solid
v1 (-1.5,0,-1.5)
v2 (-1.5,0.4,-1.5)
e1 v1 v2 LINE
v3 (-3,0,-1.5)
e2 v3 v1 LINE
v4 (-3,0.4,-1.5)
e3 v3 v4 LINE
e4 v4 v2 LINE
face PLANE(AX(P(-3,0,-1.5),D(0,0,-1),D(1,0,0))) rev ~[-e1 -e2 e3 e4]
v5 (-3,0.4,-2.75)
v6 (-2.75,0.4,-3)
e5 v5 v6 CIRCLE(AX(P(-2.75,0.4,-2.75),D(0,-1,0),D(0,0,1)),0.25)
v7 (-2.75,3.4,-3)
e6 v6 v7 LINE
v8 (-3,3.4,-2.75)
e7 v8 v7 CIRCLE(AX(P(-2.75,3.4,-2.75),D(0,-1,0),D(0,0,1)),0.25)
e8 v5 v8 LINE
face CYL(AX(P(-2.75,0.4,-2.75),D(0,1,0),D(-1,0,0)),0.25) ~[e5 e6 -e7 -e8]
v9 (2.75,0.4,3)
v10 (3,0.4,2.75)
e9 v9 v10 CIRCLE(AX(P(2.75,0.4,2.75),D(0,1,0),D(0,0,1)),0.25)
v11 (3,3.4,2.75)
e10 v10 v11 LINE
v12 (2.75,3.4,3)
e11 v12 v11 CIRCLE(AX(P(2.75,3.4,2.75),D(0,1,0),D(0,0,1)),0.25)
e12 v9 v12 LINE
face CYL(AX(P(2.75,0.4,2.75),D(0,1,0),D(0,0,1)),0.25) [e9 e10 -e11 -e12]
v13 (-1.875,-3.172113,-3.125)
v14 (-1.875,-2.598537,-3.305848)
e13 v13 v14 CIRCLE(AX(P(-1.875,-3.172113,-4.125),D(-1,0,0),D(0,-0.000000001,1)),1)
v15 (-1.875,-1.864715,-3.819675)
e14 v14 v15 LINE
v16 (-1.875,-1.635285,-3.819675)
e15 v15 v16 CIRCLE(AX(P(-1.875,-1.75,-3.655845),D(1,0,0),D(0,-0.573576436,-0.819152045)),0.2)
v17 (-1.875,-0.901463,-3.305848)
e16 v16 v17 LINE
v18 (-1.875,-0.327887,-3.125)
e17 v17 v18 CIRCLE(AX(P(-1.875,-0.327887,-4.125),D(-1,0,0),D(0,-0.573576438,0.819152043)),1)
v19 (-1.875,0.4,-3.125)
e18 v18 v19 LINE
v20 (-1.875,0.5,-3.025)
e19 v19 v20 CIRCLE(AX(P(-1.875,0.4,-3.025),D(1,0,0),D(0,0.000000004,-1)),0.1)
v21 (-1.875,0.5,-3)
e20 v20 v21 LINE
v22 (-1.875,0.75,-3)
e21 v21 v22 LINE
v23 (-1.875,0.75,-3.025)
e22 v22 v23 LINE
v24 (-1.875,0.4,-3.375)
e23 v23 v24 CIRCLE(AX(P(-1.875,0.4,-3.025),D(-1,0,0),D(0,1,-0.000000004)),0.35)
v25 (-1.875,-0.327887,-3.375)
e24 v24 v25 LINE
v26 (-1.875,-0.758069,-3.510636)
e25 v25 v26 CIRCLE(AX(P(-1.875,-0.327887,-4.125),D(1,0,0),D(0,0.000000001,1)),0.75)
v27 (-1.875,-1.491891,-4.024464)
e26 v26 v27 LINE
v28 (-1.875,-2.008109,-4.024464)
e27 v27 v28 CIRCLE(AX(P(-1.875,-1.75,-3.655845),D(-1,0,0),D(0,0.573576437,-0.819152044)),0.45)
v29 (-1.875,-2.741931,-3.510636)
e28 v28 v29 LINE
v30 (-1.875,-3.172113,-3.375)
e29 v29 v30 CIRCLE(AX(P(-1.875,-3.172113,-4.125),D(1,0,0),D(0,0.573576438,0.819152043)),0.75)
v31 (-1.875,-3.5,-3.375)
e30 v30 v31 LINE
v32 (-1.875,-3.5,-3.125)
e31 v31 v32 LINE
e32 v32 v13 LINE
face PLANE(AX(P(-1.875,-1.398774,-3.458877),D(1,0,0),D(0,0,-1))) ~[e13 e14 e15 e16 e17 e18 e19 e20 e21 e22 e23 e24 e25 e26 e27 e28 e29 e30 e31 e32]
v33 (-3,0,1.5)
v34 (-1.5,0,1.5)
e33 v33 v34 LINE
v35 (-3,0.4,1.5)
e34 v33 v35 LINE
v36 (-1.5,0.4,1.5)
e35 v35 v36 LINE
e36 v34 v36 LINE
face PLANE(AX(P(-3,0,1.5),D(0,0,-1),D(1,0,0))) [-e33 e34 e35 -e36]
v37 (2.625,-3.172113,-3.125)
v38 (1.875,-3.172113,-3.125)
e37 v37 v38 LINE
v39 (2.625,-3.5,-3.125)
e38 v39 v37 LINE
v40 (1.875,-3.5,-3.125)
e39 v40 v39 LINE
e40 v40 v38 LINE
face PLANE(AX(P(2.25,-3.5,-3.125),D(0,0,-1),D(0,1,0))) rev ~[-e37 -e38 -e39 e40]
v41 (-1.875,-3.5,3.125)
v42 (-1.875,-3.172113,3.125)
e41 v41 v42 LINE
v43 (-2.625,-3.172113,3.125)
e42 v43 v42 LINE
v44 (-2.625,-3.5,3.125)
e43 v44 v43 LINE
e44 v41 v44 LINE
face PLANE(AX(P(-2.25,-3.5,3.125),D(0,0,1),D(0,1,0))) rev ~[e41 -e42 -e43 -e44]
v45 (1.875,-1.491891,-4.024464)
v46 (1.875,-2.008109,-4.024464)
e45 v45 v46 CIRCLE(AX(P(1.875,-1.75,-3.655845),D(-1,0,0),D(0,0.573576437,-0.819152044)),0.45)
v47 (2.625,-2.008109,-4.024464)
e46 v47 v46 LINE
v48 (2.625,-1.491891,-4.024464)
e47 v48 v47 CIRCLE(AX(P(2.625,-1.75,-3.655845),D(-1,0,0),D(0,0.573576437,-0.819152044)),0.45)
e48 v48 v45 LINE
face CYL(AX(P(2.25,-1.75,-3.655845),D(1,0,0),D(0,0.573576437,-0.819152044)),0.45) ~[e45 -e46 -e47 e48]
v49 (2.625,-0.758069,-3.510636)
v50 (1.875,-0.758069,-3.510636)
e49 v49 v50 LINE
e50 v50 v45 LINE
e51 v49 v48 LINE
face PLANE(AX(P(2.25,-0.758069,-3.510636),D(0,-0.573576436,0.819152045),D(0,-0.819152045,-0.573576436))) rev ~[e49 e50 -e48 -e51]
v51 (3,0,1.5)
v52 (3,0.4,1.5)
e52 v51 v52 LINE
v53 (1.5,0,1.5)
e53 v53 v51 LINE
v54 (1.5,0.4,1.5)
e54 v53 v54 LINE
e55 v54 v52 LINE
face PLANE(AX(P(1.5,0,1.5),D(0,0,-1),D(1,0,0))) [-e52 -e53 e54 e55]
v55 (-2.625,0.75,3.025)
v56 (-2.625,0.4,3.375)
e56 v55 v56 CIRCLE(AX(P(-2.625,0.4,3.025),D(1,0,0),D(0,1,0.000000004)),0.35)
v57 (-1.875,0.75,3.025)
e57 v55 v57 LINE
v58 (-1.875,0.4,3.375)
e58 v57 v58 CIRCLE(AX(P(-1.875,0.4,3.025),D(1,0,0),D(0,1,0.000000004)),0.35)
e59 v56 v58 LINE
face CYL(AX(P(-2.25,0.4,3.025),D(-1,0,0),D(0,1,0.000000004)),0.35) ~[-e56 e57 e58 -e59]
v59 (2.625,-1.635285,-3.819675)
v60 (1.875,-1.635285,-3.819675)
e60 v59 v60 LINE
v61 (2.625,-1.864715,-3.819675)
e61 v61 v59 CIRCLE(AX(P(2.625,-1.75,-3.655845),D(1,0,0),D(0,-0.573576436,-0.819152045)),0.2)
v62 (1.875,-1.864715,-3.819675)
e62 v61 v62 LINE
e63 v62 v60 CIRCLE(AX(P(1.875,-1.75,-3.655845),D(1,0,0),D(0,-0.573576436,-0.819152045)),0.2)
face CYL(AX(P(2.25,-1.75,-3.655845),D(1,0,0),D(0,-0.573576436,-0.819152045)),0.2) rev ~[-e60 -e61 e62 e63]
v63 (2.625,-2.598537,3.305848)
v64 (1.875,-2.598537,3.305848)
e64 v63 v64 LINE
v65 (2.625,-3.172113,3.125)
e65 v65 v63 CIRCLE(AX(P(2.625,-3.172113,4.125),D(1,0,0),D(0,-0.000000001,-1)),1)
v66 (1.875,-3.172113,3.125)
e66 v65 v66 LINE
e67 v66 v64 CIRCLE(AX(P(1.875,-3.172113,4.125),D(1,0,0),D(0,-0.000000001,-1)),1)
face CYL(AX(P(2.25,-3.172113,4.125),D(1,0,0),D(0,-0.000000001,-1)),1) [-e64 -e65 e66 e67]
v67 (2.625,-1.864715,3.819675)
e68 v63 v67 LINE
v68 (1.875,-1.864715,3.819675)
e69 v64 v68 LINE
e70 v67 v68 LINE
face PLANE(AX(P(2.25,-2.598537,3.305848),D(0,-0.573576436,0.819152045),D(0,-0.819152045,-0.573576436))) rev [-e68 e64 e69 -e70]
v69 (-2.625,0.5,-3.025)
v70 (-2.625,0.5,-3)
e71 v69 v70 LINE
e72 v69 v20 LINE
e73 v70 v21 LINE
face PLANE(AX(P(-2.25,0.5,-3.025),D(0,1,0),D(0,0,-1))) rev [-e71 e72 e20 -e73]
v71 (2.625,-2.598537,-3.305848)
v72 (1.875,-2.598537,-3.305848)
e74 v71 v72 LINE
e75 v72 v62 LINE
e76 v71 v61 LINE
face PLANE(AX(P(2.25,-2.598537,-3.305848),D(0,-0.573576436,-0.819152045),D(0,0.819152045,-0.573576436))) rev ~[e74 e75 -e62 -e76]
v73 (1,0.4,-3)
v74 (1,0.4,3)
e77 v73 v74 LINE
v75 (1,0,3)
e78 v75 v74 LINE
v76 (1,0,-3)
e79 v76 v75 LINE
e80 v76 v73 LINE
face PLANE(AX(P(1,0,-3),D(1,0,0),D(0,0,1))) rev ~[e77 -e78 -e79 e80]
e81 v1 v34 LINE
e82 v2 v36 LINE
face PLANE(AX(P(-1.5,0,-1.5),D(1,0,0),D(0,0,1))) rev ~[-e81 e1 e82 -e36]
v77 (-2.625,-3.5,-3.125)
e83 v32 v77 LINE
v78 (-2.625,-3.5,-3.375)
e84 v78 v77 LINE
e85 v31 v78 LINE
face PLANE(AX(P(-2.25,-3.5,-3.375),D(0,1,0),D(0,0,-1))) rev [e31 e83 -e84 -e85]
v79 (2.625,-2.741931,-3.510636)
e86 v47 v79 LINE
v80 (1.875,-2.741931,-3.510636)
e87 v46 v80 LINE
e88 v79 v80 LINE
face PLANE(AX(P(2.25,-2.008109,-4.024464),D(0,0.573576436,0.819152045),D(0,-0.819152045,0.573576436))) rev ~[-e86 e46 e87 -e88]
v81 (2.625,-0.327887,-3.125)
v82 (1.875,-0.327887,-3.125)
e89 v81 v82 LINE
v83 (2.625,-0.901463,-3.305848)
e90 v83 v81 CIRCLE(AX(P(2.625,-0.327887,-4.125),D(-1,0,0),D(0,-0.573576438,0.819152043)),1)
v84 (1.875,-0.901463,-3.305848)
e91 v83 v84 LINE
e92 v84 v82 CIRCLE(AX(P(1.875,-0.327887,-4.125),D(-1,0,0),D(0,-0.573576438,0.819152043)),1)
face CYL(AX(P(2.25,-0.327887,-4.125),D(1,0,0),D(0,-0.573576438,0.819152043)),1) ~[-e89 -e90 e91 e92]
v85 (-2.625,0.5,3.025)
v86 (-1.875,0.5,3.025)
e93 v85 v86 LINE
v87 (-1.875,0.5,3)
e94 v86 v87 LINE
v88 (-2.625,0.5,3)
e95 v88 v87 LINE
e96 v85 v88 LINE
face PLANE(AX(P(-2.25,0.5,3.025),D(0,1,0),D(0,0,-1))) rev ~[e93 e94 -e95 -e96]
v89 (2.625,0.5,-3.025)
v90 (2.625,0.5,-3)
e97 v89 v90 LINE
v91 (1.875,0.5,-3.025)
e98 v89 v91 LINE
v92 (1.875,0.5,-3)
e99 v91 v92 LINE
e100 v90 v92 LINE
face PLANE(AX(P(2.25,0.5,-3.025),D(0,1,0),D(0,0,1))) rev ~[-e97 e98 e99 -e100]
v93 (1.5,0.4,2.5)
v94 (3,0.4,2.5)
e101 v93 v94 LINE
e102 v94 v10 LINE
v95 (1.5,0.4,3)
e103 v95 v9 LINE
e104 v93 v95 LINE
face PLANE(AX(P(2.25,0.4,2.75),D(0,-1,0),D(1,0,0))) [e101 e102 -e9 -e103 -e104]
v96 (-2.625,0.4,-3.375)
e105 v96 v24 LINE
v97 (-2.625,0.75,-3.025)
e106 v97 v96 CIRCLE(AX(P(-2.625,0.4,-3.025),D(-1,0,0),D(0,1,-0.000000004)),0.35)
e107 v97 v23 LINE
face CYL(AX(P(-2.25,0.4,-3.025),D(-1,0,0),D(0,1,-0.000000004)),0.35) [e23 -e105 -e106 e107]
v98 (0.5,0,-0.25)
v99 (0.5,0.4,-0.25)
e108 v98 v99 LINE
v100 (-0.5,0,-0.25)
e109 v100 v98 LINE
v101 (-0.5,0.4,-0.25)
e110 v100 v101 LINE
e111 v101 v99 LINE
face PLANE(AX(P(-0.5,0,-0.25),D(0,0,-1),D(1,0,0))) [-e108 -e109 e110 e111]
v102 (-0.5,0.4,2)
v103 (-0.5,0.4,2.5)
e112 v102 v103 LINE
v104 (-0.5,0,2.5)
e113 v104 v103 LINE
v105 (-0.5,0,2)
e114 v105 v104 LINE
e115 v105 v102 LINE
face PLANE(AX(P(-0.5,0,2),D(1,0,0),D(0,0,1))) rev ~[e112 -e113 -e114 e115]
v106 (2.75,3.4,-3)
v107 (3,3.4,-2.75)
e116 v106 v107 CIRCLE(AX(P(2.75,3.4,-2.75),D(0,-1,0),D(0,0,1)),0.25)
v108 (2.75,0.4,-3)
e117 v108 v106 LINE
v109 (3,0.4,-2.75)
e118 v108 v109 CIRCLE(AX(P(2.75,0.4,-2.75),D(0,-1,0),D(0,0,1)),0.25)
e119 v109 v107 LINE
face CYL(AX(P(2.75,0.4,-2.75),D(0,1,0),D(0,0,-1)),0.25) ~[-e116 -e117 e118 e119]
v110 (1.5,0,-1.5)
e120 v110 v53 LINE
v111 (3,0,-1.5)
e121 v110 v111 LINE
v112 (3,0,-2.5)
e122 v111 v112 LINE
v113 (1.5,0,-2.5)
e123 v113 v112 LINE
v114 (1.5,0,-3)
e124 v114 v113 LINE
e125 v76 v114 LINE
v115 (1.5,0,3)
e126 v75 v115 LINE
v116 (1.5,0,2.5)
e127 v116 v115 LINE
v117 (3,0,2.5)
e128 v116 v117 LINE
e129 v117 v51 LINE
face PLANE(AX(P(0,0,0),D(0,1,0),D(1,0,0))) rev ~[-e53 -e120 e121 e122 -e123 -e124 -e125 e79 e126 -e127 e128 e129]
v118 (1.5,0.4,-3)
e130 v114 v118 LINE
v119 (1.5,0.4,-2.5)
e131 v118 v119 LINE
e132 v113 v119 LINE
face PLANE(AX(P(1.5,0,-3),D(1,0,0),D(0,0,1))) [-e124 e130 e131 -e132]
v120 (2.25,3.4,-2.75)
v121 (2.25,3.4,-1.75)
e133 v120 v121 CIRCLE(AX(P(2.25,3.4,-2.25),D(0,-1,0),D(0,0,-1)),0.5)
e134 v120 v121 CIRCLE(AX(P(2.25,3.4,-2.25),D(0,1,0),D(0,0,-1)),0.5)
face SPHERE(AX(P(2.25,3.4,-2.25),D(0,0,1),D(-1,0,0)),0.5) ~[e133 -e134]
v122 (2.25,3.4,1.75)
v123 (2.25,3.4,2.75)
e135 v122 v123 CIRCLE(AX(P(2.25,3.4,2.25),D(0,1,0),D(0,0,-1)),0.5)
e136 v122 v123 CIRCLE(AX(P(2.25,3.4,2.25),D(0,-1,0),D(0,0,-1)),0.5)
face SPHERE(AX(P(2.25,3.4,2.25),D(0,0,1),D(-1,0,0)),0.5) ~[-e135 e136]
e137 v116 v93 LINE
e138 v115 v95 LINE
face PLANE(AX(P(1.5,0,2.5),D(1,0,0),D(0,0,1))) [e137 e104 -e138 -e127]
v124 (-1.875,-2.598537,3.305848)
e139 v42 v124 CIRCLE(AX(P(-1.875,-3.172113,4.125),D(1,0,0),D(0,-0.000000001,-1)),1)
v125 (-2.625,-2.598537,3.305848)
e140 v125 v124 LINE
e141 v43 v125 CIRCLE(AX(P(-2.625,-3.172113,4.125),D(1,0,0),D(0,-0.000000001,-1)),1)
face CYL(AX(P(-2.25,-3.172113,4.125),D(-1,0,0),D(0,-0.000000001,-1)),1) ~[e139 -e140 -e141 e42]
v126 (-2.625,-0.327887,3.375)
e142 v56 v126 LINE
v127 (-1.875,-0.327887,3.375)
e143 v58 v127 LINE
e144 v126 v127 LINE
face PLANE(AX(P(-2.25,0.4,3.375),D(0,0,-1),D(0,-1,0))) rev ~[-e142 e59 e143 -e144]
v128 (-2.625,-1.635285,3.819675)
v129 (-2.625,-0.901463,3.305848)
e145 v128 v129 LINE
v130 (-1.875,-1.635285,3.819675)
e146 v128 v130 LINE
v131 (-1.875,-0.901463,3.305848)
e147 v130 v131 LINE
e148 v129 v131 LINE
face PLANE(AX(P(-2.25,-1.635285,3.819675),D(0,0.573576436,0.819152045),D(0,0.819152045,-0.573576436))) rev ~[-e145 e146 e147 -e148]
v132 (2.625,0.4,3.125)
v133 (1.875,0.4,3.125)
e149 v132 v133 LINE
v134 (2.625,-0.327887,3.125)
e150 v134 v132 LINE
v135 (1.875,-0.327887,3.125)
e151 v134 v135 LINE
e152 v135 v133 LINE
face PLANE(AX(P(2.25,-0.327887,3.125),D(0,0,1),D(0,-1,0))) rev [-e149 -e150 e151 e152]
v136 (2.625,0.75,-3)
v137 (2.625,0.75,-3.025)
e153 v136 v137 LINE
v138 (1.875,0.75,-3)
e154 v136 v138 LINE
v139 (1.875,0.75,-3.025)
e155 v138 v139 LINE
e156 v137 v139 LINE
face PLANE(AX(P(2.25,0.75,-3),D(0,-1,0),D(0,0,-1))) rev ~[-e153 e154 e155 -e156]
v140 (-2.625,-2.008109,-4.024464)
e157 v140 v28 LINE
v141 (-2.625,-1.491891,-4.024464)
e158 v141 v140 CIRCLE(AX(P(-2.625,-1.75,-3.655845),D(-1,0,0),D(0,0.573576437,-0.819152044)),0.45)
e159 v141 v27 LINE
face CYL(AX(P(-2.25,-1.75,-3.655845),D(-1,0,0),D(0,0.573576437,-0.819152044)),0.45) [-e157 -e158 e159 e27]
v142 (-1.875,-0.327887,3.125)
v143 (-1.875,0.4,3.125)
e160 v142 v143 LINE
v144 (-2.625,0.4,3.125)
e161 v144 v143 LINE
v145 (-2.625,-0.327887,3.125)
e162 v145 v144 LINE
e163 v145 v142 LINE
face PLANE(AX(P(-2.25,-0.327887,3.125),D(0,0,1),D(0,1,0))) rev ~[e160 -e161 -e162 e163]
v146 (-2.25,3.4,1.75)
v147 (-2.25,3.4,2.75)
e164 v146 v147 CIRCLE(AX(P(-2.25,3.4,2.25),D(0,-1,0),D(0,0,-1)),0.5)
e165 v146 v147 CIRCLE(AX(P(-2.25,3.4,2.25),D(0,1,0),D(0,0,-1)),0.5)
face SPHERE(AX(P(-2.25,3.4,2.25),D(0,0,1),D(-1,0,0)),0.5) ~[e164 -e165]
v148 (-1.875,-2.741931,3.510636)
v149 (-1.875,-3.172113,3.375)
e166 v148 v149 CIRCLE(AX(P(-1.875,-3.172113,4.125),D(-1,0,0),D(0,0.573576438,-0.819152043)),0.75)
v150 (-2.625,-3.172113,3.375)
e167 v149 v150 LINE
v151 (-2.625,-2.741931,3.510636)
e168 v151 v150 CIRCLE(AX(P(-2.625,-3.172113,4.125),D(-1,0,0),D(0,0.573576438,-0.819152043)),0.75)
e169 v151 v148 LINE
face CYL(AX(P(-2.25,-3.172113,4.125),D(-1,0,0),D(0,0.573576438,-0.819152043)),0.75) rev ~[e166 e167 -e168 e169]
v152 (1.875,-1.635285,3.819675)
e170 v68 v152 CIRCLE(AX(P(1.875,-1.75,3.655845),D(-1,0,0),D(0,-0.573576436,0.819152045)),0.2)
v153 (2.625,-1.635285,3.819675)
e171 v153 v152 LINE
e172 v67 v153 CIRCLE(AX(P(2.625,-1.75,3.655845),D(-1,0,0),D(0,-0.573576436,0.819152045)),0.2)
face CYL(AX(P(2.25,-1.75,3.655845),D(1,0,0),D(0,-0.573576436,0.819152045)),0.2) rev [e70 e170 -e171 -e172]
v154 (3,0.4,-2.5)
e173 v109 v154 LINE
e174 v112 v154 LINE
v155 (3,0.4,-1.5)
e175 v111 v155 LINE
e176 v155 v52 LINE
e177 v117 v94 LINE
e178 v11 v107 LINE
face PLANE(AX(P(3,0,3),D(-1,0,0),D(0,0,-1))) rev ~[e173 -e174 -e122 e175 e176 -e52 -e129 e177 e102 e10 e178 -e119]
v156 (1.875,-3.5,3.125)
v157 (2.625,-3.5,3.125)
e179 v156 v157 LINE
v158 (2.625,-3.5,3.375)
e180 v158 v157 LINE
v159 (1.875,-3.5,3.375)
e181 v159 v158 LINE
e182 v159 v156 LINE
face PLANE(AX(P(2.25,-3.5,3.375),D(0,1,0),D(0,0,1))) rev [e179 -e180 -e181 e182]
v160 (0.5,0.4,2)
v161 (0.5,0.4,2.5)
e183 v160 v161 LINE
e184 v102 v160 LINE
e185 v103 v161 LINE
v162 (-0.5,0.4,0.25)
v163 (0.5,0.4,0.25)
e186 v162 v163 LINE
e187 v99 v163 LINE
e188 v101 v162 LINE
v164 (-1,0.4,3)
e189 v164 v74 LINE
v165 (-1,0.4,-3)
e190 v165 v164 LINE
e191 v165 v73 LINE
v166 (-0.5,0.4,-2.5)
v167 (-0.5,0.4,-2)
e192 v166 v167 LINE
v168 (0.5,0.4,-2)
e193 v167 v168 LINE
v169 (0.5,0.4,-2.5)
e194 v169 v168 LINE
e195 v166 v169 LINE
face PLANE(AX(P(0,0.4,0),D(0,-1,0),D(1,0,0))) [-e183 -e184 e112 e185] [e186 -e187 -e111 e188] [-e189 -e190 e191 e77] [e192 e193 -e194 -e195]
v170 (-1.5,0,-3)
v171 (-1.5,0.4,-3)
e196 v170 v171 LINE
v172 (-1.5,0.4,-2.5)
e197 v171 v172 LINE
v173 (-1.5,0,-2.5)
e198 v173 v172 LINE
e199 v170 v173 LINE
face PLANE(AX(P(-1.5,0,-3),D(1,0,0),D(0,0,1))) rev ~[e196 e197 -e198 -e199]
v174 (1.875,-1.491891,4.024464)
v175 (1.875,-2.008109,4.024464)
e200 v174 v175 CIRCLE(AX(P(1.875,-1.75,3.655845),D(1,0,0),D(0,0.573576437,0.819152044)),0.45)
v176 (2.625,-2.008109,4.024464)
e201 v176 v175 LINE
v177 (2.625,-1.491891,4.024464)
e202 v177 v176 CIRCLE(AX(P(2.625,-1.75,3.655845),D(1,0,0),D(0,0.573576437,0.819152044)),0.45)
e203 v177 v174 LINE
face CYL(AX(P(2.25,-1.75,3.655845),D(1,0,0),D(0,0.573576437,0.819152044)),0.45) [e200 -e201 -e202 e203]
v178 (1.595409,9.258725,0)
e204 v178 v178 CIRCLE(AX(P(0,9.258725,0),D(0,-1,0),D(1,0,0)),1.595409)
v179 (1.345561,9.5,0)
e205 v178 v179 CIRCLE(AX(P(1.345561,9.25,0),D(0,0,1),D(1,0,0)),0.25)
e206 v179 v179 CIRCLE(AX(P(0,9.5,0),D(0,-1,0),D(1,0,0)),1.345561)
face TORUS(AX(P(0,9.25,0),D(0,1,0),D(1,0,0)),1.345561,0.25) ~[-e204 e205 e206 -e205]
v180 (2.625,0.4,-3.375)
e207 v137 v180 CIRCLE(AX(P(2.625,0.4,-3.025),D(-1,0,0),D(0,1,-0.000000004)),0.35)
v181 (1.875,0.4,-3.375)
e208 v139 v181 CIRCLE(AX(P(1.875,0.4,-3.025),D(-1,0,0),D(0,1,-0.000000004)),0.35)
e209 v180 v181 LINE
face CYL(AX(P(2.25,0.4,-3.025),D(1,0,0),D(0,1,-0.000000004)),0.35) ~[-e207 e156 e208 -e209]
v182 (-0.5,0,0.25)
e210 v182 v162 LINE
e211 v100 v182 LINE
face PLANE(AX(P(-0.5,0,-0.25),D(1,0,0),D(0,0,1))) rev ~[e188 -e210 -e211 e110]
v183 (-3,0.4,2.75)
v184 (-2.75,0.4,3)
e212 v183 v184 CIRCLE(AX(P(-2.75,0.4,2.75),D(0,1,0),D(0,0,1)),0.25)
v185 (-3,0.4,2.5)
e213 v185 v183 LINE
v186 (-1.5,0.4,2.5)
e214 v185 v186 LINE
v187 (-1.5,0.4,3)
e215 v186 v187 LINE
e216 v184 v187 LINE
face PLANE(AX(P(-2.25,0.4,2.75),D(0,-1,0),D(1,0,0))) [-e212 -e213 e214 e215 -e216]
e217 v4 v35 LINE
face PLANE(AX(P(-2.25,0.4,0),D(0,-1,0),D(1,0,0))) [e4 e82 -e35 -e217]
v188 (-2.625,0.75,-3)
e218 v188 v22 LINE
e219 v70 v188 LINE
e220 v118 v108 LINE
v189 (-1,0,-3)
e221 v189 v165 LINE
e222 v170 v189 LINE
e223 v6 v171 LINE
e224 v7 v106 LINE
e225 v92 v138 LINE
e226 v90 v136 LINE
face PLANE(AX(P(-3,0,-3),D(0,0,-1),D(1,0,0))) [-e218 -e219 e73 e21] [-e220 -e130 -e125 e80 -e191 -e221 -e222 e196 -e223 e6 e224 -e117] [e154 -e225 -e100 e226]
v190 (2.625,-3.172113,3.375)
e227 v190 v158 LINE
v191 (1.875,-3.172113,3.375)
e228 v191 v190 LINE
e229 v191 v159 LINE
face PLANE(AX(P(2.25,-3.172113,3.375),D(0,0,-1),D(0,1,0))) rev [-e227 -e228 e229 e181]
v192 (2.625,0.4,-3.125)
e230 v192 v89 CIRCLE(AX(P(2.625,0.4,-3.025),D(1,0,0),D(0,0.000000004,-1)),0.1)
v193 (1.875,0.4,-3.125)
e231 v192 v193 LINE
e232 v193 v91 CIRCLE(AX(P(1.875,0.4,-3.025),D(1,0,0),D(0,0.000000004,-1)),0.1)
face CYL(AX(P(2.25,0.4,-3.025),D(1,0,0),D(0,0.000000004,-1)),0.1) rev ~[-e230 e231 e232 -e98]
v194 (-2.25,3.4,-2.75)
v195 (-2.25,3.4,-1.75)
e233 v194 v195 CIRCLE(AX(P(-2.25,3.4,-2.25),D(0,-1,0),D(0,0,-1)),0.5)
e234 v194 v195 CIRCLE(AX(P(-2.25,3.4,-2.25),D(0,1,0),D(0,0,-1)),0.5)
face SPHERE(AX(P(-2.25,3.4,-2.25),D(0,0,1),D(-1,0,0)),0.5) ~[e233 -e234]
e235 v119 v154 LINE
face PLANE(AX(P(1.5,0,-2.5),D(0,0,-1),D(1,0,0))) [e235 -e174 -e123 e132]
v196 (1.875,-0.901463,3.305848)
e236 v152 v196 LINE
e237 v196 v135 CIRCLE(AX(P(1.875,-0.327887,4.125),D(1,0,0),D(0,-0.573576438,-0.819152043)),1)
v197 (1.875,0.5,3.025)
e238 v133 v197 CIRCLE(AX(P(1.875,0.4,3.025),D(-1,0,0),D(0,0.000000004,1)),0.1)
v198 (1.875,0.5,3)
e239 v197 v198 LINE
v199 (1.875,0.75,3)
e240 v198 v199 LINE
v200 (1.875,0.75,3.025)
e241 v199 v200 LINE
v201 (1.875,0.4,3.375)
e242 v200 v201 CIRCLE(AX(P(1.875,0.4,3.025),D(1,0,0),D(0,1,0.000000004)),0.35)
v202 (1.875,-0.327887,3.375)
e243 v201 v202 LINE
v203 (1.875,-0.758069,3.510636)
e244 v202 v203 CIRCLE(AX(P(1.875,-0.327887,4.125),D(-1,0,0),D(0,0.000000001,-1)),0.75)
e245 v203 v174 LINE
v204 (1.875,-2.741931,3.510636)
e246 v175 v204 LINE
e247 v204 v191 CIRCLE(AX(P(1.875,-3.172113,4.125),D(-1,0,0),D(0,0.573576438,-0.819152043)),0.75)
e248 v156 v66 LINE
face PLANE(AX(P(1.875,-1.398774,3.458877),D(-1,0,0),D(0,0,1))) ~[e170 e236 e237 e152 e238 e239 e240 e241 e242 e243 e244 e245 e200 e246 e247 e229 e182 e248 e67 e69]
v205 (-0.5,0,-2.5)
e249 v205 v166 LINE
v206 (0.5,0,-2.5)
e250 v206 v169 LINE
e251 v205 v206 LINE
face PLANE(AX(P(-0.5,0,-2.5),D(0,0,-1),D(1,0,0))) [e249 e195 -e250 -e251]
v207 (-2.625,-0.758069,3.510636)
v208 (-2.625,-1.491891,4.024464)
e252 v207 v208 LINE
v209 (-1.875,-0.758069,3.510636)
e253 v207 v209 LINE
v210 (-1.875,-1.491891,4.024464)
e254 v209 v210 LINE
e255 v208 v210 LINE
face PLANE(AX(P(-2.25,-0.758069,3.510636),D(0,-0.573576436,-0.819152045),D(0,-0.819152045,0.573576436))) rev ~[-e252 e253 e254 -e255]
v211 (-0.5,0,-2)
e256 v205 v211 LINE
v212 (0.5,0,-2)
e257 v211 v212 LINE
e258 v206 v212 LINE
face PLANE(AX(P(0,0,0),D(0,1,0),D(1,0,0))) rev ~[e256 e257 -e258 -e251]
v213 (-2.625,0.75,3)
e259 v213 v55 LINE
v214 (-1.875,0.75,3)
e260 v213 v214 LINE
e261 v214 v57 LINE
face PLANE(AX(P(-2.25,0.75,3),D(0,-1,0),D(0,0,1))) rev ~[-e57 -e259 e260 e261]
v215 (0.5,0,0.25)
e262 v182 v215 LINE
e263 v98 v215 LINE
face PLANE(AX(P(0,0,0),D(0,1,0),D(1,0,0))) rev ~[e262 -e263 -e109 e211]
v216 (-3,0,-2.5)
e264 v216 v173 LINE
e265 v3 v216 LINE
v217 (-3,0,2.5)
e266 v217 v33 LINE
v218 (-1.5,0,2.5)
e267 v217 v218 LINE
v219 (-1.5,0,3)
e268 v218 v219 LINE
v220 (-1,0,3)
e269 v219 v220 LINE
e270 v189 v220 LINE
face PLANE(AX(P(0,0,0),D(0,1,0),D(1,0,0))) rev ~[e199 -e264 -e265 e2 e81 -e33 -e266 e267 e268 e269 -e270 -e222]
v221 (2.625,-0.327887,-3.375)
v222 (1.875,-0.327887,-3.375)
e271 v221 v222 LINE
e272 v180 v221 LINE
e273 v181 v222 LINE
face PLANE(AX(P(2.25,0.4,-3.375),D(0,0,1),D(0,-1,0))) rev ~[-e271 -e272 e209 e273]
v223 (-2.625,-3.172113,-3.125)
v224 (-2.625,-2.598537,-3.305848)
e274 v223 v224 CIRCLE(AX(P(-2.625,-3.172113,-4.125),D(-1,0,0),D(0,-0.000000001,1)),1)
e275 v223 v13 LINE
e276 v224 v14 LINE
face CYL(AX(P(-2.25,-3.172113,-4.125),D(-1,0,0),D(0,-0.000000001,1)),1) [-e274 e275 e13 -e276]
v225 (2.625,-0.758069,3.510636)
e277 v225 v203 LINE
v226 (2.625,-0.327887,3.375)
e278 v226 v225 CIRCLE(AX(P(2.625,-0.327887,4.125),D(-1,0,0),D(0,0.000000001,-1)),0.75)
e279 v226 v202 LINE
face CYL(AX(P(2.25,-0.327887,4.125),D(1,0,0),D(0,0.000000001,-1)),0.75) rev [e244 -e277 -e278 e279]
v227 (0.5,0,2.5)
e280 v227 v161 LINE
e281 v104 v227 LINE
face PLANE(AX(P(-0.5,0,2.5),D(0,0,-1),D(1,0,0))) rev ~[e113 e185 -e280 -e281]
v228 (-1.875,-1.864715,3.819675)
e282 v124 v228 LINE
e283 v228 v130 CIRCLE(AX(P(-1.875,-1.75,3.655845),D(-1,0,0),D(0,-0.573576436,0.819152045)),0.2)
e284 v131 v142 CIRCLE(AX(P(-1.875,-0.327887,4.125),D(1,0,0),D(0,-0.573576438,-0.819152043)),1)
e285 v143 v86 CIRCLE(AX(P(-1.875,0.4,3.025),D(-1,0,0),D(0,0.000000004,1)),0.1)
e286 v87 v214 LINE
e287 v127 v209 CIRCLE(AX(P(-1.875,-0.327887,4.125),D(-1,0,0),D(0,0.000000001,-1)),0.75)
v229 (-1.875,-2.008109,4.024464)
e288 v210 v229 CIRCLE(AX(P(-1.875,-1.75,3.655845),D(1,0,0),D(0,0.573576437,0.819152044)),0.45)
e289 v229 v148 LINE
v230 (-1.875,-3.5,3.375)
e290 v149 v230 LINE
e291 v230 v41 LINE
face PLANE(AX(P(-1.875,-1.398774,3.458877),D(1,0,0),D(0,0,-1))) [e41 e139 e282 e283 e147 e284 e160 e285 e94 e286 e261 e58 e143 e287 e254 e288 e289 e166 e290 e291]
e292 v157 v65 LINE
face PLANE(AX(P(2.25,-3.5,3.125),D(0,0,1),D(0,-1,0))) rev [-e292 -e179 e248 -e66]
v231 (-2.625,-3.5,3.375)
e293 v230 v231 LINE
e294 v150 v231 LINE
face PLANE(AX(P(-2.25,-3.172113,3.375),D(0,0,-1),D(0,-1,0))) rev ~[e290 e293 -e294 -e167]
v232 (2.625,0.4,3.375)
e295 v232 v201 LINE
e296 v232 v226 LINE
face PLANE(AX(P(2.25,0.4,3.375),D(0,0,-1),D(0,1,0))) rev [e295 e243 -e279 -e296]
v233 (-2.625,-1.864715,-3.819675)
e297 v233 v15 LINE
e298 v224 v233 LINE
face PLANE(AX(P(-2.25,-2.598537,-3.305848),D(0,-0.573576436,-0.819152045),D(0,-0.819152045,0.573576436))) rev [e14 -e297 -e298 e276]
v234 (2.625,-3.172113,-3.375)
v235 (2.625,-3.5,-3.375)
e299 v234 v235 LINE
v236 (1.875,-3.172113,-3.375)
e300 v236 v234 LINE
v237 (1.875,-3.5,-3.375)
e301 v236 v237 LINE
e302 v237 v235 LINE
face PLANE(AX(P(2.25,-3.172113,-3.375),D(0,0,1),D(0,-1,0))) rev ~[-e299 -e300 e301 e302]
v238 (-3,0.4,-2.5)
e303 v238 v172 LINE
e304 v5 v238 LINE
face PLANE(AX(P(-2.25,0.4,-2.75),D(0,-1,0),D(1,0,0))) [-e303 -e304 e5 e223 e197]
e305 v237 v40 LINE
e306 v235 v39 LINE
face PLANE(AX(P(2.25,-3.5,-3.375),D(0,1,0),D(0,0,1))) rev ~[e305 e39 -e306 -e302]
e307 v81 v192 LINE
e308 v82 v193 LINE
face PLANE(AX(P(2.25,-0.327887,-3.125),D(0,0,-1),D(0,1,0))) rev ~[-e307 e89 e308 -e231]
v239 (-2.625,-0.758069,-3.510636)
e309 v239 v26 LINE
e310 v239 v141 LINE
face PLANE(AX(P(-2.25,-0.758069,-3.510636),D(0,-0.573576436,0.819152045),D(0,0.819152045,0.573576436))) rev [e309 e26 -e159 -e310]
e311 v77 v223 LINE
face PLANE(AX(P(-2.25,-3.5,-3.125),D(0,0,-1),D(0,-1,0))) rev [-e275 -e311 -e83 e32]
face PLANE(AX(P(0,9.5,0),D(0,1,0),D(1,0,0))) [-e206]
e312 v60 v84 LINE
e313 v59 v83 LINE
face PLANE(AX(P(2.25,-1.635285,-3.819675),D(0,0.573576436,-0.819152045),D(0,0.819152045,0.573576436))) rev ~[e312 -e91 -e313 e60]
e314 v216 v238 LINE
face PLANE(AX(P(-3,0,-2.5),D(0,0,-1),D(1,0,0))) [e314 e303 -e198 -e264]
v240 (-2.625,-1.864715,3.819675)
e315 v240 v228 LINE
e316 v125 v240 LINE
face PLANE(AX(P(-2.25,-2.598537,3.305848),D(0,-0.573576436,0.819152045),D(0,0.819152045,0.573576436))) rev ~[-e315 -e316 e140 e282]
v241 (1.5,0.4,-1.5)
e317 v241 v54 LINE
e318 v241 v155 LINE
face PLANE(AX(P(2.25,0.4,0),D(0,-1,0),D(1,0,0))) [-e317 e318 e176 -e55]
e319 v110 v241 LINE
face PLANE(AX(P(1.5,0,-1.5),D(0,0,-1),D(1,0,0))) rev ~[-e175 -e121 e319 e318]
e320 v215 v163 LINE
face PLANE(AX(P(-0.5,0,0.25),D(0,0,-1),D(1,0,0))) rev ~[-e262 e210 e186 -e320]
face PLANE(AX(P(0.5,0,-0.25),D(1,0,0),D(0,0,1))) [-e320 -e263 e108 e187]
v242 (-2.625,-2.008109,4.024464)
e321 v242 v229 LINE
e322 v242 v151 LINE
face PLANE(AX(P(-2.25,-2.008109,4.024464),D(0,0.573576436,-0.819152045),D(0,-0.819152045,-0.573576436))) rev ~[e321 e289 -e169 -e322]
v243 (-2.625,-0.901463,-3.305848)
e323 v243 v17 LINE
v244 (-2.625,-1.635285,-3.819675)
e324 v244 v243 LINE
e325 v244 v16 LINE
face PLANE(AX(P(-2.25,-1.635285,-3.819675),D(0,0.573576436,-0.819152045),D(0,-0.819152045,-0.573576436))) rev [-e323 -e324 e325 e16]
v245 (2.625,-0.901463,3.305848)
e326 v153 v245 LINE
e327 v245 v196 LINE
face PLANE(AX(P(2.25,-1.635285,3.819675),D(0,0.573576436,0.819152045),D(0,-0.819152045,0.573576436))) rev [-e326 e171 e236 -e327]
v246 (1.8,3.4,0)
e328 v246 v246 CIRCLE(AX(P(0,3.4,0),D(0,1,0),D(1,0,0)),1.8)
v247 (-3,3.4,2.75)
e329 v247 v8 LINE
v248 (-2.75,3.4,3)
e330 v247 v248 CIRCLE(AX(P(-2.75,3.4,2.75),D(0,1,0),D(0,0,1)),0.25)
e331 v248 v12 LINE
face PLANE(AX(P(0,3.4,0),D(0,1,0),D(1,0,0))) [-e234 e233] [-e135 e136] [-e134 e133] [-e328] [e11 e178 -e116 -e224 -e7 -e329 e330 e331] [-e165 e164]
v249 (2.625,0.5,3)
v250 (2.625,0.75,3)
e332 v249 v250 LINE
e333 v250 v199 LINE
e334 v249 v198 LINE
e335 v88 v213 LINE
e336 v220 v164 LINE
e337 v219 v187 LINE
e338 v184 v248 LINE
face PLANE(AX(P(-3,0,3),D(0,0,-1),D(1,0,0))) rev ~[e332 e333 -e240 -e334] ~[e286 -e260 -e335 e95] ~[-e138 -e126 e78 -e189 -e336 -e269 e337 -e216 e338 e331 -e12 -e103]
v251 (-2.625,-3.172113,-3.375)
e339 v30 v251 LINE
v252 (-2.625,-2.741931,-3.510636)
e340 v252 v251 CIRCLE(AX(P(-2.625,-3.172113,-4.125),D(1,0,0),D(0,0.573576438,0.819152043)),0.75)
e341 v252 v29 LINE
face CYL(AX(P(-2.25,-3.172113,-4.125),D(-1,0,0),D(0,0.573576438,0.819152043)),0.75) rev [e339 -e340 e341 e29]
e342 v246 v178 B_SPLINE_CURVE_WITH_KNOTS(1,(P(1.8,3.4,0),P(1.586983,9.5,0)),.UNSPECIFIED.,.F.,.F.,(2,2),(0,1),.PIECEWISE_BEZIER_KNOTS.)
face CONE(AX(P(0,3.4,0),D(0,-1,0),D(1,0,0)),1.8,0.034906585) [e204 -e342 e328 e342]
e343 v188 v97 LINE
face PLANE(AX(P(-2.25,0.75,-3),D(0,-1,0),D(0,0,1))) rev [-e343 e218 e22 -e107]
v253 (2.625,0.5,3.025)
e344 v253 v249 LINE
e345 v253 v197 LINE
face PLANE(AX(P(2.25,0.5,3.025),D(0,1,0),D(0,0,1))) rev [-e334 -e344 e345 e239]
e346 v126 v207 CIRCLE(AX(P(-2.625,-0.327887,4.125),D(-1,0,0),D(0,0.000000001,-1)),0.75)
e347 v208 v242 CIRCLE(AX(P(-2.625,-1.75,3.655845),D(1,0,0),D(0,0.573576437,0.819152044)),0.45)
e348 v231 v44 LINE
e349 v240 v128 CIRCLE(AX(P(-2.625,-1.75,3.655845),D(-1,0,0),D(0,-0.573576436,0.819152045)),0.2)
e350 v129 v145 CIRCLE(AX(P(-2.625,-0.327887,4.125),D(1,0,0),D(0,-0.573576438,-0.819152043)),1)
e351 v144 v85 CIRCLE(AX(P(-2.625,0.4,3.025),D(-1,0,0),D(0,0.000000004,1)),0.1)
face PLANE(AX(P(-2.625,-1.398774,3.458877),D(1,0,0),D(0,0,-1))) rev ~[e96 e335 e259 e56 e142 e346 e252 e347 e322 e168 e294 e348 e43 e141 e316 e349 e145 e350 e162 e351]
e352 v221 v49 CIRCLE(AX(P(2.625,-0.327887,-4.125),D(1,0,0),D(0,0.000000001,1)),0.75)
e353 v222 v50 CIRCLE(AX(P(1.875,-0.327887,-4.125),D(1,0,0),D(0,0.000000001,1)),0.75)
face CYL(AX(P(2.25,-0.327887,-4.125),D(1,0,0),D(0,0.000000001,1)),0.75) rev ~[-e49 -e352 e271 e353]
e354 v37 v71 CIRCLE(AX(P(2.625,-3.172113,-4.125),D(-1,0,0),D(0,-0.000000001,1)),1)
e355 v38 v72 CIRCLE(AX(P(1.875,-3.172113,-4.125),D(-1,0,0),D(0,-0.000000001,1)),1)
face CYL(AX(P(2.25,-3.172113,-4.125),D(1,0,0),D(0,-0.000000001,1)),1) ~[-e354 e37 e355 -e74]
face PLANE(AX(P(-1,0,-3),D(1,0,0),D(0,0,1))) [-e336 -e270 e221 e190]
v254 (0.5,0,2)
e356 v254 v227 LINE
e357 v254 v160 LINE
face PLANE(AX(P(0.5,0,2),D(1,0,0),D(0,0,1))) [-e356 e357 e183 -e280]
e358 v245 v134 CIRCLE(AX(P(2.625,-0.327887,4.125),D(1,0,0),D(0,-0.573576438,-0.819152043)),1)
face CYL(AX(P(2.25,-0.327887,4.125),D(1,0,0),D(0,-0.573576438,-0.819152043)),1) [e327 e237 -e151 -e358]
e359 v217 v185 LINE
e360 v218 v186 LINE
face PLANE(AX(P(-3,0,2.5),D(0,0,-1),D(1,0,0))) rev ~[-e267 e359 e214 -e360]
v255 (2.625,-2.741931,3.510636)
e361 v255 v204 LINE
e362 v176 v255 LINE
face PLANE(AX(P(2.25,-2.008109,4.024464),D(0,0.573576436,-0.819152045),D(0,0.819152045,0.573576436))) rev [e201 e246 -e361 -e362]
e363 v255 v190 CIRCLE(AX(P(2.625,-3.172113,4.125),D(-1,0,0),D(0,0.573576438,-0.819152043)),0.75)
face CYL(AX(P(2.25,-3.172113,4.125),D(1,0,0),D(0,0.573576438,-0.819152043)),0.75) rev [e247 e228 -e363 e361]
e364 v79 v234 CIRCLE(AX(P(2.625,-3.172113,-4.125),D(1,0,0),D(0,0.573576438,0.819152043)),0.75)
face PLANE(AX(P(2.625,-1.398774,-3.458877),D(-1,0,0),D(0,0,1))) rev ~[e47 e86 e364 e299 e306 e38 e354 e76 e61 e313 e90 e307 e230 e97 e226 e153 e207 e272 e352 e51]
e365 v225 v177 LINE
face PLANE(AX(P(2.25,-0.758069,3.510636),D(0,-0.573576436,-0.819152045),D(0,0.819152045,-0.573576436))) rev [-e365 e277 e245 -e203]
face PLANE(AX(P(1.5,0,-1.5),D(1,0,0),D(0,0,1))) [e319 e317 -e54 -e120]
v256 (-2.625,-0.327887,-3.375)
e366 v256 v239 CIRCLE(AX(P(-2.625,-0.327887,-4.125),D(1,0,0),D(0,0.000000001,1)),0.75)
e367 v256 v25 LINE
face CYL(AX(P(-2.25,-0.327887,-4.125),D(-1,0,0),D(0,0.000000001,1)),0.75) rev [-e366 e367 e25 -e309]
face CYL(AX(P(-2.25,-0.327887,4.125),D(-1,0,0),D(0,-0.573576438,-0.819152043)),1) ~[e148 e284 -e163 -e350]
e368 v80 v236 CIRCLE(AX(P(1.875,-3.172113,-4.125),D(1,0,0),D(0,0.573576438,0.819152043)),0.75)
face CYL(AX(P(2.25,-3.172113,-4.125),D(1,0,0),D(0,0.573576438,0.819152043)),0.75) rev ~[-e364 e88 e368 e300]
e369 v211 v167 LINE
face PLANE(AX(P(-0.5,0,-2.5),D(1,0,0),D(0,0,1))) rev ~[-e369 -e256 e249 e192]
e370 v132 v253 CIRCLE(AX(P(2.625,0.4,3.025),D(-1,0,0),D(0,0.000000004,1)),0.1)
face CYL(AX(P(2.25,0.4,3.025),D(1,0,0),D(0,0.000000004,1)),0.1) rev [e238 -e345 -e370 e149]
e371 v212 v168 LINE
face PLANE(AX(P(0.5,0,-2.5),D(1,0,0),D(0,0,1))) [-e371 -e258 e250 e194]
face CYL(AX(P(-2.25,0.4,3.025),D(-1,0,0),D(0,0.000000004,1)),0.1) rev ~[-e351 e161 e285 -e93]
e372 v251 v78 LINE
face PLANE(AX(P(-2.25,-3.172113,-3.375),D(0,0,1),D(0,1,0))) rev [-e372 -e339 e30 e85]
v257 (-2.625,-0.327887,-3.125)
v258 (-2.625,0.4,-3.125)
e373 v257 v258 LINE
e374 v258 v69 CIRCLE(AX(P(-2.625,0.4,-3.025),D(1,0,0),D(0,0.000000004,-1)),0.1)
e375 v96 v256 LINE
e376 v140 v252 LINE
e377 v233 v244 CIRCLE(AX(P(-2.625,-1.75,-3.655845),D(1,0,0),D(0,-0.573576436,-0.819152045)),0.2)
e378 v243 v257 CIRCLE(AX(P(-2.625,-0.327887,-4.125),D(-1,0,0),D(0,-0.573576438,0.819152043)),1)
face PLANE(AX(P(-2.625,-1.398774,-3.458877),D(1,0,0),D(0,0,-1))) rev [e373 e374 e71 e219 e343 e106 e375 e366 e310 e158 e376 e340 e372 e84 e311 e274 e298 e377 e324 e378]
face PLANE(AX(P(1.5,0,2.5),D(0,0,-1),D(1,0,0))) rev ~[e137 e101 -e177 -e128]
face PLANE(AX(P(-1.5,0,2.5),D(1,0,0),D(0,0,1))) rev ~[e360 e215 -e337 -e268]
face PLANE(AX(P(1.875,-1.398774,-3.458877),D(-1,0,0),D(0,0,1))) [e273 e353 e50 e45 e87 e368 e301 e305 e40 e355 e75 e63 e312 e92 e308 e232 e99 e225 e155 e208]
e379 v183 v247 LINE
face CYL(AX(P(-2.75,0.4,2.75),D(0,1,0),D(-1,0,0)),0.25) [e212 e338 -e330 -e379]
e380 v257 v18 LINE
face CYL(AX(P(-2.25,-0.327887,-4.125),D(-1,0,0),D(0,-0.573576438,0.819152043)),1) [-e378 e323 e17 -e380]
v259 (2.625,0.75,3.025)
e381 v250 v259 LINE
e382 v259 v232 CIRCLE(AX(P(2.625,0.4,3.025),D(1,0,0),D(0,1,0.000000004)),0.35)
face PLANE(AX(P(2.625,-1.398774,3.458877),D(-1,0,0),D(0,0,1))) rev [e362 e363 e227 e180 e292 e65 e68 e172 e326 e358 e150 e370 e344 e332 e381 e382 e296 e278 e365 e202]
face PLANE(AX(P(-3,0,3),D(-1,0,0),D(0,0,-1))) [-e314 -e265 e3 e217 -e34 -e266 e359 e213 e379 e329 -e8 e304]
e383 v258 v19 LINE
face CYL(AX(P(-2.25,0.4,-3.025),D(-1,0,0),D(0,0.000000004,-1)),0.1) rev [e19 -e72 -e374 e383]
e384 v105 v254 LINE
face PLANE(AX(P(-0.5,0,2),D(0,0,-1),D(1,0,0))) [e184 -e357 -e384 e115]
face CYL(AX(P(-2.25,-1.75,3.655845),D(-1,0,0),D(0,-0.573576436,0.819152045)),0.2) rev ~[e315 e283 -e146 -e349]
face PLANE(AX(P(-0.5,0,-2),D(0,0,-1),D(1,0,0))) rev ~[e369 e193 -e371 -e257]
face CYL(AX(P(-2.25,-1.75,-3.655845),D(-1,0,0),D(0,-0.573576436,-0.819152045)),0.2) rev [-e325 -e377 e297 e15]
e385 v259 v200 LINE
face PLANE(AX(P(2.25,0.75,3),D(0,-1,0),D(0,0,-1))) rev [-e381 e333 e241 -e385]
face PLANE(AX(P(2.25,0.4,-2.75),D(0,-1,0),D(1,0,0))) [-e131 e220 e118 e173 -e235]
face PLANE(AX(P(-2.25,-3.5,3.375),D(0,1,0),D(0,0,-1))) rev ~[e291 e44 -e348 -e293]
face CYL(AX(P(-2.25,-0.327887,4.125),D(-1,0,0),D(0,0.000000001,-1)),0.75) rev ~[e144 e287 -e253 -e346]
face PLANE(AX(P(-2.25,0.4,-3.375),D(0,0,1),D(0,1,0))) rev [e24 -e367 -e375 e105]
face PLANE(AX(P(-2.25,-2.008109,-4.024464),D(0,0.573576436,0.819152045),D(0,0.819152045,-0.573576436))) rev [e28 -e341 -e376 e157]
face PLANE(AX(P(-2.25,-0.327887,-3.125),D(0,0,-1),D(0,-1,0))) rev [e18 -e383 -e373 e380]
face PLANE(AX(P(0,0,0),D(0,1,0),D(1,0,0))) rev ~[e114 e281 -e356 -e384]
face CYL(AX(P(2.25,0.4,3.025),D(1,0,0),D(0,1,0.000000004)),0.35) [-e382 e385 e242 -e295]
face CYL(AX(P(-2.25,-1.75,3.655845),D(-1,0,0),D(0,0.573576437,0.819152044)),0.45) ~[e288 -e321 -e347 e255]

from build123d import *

# Parameters (mm, degrees)
SKETCH1_W            = 6
SKETCH1_H            = 6
EXTRUDE1_DEPTH       = 3.4
SKETCH2_W            = 1.5
SKETCH2_H            = 3
SKETCH2_H_2          = 0.5
SKETCH2_W_2          = 2
SKETCH2_H_3          = 6
SKETCH2_W_3          = 1
EXTRUDE2_DEPTH       = 0.4
REVOLVE1_ANGLE       = 180
LPATTERN1_COUNT      = 2
LPATTERN1_PITCH      = 4.5
LPATTERN1_COUNT_DIR2 = 2
LPATTERN1_PITCH_DIR2 = 4.5
SKETCH4_R            = 1.8
EXTRUDE3_DEPTH       = 6.1
EXTRUDE3_TAPER       = 2
EXTRUDE4_DEPTH       = 0.375
MIRROR2_COPY_1_DEPTH = 0.375
FILLET1_R            = 0.25


with BuildPart() as part:
    # Sketch1 → Extrude1 (new body)
    with BuildSketch(Plane(origin=(0, 0, 0), x_dir=(1, 0, 0), z_dir=(0, 1, 0))):
        Rectangle(SKETCH1_W, SKETCH1_H)
    extrude(amount=EXTRUDE1_DEPTH)

    # Sketch2 → Extrude2 (cut)
    with BuildSketch(Plane.XZ):
        with Locations((-2.25, 0)):
            Rectangle(SKETCH2_W, SKETCH2_H)
        with Locations((-2.25, -2.75)):
            Rectangle(SKETCH2_W, SKETCH2_H_2)
        with Locations((-2.25, 2.75)):
            Rectangle(SKETCH2_W, SKETCH2_H_2)
        Rectangle(SKETCH2_W_2, SKETCH2_H_3)
        with Locations((0, -2.25)):
            Rectangle(SKETCH2_W_3, SKETCH2_H_2, mode=Mode.SUBTRACT)
        with Locations((0, 2.25)):
            Rectangle(SKETCH2_W_3, SKETCH2_H_2, mode=Mode.SUBTRACT)
        Rectangle(SKETCH2_W_3, SKETCH2_H_2, mode=Mode.SUBTRACT)
        with Locations((2.25, 2.75)):
            Rectangle(SKETCH2_W, SKETCH2_H_2)
        with Locations((2.25, -2.75)):
            Rectangle(SKETCH2_W, SKETCH2_H_2)
        with Locations((2.25, 0)):
            Rectangle(SKETCH2_W, SKETCH2_H)
    extrude(amount=-EXTRUDE2_DEPTH, mode=Mode.SUBTRACT)

    # Sketch3 → Revolve1 (revolve)
    with BuildSketch(Plane(origin=(0, 3.4, 0), x_dir=(1, 0, 0), z_dir=(0, 1, 0))):
        with BuildLine():
            Line((-2.25, 1.75), (-2.25, 2.75))
            ThreePointArc((-2.25, 2.75), (-2.75, 2.25), (-2.25, 1.75))
        make_face()
    revolve1 = revolve(axis=Axis((-2.25, 3.4, -1.75), (0, 0, -1)), revolution_arc=REVOLVE1_ANGLE)

    # LPattern1: Revolve1 2 × 2
    with Locations(*[(i * LPATTERN1_PITCH, 0, j * LPATTERN1_PITCH_DIR2) for i in range(LPATTERN1_COUNT) for j in range(LPATTERN1_COUNT_DIR2) if (i, j) != (0, 0)]):
        add(revolve1)

    # Sketch4 → Extrude3 (add)
    with BuildSketch(Plane(origin=(0, 3.4, 0), x_dir=(1, 0, 0), z_dir=(0, 1, 0))):
        Circle(SKETCH4_R)
    extrude(amount=EXTRUDE3_DEPTH, taper=EXTRUDE3_TAPER)

    # Sketch5 → Extrude4 (add, symmetric)
    with BuildSketch(Plane(origin=(2.25, 0, 0), x_dir=(0, 0, -1), z_dir=(1, 0, 0))):
        with BuildLine():
            Line((3.125, -3.5), (3.125, -3.172113494))
            ThreePointArc((3.125, -3.172113494), (3.171283049, -2.871407695), (3.305847956, -2.598537058))
            Line((3.305847956, -2.598537058), (3.819675491, -1.864715287))
            ThreePointArc((3.819675491, -1.864715287), (3.855845082, -1.75), (3.819675491, -1.635284713))
            Line((3.819675491, -1.635284713), (3.305847956, -0.901462942))
            ThreePointArc((3.305847956, -0.901462942), (3.171283049, -0.628592305), (3.125, -0.327886506))
            Line((3.125, -0.327886506), (3.125, 0.4))
            ThreePointArc((3.125, 0.4), (3.095710678, 0.470710678), (3.025, 0.5))
            Line((3.025, 0.5), (3, 0.5))
            Line((3, 0.5), (3, 0.75))
            Line((3, 0.75), (3.025, 0.75))
            ThreePointArc((3.025, 0.75), (3.272487373, 0.647487373), (3.375, 0.4))
            Line((3.375, 0.4), (3.375, -0.327886506))
            ThreePointArc((3.375, -0.327886506), (3.409712287, -0.553415856), (3.510635967, -0.758068833))
            Line((3.510635967, -0.758068833), (4.024463502, -1.491890604))
            ThreePointArc((4.024463502, -1.491890604), (4.105845082, -1.75), (4.024463502, -2.008109396))
            Line((4.024463502, -2.008109396), (3.510635967, -2.741931167))
            ThreePointArc((3.510635967, -2.741931167), (3.409712287, -2.946584144), (3.375, -3.172113494))
            Line((3.375, -3.172113494), (3.375, -3.5))
            Line((3.375, -3.5), (3.125, -3.5))
        make_face()
    extrude4 = extrude(amount=EXTRUDE4_DEPTH, both=True)

    # Mirror1: Extrude4 across plane
    add(extrude4.mirror(Plane.XY))

    # Mirror2: Extrude4 across plane
    add(extrude4.mirror(Plane(origin=(0, 0, 0), x_dir=(0, 0, 1), z_dir=(1, 0, 0))))

    # Mirror2 copy 1 sketch → Mirror2 copy 1 (add, symmetric)
    with BuildSketch(Plane.ZY.offset(2.25)):
        with BuildLine():
            Line((3.125, -3.5), (3.125, -3.172113494))
            ThreePointArc((3.125, -3.172113494), (3.171283049, -2.871407695), (3.305847956, -2.598537058))
            Line((3.305847956, -2.598537058), (3.819675491, -1.864715287))
            ThreePointArc((3.819675491, -1.864715287), (3.855845082, -1.75), (3.819675491, -1.635284713))
            Line((3.819675491, -1.635284713), (3.305847956, -0.901462942))
            ThreePointArc((3.305847956, -0.901462942), (3.171283049, -0.628592305), (3.125, -0.327886506))
            Line((3.125, -0.327886506), (3.125, 0.4))
            ThreePointArc((3.125, 0.4), (3.095710678, 0.470710678), (3.025, 0.5))
            Line((3.025, 0.5), (3, 0.5))
            Line((3, 0.5), (3, 0.75))
            Line((3, 0.75), (3.025, 0.75))
            ThreePointArc((3.025, 0.75), (3.272487373, 0.647487373), (3.375, 0.4))
            Line((3.375, 0.4), (3.375, -0.327886506))
            ThreePointArc((3.375, -0.327886506), (3.409712287, -0.553415856), (3.510635967, -0.758068833))
            Line((3.510635967, -0.758068833), (4.024463502, -1.491890604))
            ThreePointArc((4.024463502, -1.491890604), (4.105845082, -1.75), (4.024463502, -2.008109396))
            Line((4.024463502, -2.008109396), (3.510635967, -2.741931167))
            ThreePointArc((3.510635967, -2.741931167), (3.409712287, -2.946584144), (3.375, -3.172113494))
            Line((3.375, -3.172113494), (3.375, -3.5))
            Line((3.375, -3.5), (3.125, -3.5))
        make_face()
    extrude(amount=MIRROR2_COPY_1_DEPTH, both=True)

    # Fillet1
    fillet1_edges = [part.edges().sort_by_distance(p)[0] for p in [
        (-1.586983306, 9.5, 0),
        (3, 1.9, 3),
        (-3, 1.9, 3),
        (-3, 1.9, -3),
        (3, 1.9, -3),
        (3, 1.9, 3),
        (-3, 1.9, 3),
        (-3, 1.9, -3),
        (3, 1.9, -3),
    ]]
    fillet(fillet1_edges, radius=FILLET1_R)


solid = part.part
